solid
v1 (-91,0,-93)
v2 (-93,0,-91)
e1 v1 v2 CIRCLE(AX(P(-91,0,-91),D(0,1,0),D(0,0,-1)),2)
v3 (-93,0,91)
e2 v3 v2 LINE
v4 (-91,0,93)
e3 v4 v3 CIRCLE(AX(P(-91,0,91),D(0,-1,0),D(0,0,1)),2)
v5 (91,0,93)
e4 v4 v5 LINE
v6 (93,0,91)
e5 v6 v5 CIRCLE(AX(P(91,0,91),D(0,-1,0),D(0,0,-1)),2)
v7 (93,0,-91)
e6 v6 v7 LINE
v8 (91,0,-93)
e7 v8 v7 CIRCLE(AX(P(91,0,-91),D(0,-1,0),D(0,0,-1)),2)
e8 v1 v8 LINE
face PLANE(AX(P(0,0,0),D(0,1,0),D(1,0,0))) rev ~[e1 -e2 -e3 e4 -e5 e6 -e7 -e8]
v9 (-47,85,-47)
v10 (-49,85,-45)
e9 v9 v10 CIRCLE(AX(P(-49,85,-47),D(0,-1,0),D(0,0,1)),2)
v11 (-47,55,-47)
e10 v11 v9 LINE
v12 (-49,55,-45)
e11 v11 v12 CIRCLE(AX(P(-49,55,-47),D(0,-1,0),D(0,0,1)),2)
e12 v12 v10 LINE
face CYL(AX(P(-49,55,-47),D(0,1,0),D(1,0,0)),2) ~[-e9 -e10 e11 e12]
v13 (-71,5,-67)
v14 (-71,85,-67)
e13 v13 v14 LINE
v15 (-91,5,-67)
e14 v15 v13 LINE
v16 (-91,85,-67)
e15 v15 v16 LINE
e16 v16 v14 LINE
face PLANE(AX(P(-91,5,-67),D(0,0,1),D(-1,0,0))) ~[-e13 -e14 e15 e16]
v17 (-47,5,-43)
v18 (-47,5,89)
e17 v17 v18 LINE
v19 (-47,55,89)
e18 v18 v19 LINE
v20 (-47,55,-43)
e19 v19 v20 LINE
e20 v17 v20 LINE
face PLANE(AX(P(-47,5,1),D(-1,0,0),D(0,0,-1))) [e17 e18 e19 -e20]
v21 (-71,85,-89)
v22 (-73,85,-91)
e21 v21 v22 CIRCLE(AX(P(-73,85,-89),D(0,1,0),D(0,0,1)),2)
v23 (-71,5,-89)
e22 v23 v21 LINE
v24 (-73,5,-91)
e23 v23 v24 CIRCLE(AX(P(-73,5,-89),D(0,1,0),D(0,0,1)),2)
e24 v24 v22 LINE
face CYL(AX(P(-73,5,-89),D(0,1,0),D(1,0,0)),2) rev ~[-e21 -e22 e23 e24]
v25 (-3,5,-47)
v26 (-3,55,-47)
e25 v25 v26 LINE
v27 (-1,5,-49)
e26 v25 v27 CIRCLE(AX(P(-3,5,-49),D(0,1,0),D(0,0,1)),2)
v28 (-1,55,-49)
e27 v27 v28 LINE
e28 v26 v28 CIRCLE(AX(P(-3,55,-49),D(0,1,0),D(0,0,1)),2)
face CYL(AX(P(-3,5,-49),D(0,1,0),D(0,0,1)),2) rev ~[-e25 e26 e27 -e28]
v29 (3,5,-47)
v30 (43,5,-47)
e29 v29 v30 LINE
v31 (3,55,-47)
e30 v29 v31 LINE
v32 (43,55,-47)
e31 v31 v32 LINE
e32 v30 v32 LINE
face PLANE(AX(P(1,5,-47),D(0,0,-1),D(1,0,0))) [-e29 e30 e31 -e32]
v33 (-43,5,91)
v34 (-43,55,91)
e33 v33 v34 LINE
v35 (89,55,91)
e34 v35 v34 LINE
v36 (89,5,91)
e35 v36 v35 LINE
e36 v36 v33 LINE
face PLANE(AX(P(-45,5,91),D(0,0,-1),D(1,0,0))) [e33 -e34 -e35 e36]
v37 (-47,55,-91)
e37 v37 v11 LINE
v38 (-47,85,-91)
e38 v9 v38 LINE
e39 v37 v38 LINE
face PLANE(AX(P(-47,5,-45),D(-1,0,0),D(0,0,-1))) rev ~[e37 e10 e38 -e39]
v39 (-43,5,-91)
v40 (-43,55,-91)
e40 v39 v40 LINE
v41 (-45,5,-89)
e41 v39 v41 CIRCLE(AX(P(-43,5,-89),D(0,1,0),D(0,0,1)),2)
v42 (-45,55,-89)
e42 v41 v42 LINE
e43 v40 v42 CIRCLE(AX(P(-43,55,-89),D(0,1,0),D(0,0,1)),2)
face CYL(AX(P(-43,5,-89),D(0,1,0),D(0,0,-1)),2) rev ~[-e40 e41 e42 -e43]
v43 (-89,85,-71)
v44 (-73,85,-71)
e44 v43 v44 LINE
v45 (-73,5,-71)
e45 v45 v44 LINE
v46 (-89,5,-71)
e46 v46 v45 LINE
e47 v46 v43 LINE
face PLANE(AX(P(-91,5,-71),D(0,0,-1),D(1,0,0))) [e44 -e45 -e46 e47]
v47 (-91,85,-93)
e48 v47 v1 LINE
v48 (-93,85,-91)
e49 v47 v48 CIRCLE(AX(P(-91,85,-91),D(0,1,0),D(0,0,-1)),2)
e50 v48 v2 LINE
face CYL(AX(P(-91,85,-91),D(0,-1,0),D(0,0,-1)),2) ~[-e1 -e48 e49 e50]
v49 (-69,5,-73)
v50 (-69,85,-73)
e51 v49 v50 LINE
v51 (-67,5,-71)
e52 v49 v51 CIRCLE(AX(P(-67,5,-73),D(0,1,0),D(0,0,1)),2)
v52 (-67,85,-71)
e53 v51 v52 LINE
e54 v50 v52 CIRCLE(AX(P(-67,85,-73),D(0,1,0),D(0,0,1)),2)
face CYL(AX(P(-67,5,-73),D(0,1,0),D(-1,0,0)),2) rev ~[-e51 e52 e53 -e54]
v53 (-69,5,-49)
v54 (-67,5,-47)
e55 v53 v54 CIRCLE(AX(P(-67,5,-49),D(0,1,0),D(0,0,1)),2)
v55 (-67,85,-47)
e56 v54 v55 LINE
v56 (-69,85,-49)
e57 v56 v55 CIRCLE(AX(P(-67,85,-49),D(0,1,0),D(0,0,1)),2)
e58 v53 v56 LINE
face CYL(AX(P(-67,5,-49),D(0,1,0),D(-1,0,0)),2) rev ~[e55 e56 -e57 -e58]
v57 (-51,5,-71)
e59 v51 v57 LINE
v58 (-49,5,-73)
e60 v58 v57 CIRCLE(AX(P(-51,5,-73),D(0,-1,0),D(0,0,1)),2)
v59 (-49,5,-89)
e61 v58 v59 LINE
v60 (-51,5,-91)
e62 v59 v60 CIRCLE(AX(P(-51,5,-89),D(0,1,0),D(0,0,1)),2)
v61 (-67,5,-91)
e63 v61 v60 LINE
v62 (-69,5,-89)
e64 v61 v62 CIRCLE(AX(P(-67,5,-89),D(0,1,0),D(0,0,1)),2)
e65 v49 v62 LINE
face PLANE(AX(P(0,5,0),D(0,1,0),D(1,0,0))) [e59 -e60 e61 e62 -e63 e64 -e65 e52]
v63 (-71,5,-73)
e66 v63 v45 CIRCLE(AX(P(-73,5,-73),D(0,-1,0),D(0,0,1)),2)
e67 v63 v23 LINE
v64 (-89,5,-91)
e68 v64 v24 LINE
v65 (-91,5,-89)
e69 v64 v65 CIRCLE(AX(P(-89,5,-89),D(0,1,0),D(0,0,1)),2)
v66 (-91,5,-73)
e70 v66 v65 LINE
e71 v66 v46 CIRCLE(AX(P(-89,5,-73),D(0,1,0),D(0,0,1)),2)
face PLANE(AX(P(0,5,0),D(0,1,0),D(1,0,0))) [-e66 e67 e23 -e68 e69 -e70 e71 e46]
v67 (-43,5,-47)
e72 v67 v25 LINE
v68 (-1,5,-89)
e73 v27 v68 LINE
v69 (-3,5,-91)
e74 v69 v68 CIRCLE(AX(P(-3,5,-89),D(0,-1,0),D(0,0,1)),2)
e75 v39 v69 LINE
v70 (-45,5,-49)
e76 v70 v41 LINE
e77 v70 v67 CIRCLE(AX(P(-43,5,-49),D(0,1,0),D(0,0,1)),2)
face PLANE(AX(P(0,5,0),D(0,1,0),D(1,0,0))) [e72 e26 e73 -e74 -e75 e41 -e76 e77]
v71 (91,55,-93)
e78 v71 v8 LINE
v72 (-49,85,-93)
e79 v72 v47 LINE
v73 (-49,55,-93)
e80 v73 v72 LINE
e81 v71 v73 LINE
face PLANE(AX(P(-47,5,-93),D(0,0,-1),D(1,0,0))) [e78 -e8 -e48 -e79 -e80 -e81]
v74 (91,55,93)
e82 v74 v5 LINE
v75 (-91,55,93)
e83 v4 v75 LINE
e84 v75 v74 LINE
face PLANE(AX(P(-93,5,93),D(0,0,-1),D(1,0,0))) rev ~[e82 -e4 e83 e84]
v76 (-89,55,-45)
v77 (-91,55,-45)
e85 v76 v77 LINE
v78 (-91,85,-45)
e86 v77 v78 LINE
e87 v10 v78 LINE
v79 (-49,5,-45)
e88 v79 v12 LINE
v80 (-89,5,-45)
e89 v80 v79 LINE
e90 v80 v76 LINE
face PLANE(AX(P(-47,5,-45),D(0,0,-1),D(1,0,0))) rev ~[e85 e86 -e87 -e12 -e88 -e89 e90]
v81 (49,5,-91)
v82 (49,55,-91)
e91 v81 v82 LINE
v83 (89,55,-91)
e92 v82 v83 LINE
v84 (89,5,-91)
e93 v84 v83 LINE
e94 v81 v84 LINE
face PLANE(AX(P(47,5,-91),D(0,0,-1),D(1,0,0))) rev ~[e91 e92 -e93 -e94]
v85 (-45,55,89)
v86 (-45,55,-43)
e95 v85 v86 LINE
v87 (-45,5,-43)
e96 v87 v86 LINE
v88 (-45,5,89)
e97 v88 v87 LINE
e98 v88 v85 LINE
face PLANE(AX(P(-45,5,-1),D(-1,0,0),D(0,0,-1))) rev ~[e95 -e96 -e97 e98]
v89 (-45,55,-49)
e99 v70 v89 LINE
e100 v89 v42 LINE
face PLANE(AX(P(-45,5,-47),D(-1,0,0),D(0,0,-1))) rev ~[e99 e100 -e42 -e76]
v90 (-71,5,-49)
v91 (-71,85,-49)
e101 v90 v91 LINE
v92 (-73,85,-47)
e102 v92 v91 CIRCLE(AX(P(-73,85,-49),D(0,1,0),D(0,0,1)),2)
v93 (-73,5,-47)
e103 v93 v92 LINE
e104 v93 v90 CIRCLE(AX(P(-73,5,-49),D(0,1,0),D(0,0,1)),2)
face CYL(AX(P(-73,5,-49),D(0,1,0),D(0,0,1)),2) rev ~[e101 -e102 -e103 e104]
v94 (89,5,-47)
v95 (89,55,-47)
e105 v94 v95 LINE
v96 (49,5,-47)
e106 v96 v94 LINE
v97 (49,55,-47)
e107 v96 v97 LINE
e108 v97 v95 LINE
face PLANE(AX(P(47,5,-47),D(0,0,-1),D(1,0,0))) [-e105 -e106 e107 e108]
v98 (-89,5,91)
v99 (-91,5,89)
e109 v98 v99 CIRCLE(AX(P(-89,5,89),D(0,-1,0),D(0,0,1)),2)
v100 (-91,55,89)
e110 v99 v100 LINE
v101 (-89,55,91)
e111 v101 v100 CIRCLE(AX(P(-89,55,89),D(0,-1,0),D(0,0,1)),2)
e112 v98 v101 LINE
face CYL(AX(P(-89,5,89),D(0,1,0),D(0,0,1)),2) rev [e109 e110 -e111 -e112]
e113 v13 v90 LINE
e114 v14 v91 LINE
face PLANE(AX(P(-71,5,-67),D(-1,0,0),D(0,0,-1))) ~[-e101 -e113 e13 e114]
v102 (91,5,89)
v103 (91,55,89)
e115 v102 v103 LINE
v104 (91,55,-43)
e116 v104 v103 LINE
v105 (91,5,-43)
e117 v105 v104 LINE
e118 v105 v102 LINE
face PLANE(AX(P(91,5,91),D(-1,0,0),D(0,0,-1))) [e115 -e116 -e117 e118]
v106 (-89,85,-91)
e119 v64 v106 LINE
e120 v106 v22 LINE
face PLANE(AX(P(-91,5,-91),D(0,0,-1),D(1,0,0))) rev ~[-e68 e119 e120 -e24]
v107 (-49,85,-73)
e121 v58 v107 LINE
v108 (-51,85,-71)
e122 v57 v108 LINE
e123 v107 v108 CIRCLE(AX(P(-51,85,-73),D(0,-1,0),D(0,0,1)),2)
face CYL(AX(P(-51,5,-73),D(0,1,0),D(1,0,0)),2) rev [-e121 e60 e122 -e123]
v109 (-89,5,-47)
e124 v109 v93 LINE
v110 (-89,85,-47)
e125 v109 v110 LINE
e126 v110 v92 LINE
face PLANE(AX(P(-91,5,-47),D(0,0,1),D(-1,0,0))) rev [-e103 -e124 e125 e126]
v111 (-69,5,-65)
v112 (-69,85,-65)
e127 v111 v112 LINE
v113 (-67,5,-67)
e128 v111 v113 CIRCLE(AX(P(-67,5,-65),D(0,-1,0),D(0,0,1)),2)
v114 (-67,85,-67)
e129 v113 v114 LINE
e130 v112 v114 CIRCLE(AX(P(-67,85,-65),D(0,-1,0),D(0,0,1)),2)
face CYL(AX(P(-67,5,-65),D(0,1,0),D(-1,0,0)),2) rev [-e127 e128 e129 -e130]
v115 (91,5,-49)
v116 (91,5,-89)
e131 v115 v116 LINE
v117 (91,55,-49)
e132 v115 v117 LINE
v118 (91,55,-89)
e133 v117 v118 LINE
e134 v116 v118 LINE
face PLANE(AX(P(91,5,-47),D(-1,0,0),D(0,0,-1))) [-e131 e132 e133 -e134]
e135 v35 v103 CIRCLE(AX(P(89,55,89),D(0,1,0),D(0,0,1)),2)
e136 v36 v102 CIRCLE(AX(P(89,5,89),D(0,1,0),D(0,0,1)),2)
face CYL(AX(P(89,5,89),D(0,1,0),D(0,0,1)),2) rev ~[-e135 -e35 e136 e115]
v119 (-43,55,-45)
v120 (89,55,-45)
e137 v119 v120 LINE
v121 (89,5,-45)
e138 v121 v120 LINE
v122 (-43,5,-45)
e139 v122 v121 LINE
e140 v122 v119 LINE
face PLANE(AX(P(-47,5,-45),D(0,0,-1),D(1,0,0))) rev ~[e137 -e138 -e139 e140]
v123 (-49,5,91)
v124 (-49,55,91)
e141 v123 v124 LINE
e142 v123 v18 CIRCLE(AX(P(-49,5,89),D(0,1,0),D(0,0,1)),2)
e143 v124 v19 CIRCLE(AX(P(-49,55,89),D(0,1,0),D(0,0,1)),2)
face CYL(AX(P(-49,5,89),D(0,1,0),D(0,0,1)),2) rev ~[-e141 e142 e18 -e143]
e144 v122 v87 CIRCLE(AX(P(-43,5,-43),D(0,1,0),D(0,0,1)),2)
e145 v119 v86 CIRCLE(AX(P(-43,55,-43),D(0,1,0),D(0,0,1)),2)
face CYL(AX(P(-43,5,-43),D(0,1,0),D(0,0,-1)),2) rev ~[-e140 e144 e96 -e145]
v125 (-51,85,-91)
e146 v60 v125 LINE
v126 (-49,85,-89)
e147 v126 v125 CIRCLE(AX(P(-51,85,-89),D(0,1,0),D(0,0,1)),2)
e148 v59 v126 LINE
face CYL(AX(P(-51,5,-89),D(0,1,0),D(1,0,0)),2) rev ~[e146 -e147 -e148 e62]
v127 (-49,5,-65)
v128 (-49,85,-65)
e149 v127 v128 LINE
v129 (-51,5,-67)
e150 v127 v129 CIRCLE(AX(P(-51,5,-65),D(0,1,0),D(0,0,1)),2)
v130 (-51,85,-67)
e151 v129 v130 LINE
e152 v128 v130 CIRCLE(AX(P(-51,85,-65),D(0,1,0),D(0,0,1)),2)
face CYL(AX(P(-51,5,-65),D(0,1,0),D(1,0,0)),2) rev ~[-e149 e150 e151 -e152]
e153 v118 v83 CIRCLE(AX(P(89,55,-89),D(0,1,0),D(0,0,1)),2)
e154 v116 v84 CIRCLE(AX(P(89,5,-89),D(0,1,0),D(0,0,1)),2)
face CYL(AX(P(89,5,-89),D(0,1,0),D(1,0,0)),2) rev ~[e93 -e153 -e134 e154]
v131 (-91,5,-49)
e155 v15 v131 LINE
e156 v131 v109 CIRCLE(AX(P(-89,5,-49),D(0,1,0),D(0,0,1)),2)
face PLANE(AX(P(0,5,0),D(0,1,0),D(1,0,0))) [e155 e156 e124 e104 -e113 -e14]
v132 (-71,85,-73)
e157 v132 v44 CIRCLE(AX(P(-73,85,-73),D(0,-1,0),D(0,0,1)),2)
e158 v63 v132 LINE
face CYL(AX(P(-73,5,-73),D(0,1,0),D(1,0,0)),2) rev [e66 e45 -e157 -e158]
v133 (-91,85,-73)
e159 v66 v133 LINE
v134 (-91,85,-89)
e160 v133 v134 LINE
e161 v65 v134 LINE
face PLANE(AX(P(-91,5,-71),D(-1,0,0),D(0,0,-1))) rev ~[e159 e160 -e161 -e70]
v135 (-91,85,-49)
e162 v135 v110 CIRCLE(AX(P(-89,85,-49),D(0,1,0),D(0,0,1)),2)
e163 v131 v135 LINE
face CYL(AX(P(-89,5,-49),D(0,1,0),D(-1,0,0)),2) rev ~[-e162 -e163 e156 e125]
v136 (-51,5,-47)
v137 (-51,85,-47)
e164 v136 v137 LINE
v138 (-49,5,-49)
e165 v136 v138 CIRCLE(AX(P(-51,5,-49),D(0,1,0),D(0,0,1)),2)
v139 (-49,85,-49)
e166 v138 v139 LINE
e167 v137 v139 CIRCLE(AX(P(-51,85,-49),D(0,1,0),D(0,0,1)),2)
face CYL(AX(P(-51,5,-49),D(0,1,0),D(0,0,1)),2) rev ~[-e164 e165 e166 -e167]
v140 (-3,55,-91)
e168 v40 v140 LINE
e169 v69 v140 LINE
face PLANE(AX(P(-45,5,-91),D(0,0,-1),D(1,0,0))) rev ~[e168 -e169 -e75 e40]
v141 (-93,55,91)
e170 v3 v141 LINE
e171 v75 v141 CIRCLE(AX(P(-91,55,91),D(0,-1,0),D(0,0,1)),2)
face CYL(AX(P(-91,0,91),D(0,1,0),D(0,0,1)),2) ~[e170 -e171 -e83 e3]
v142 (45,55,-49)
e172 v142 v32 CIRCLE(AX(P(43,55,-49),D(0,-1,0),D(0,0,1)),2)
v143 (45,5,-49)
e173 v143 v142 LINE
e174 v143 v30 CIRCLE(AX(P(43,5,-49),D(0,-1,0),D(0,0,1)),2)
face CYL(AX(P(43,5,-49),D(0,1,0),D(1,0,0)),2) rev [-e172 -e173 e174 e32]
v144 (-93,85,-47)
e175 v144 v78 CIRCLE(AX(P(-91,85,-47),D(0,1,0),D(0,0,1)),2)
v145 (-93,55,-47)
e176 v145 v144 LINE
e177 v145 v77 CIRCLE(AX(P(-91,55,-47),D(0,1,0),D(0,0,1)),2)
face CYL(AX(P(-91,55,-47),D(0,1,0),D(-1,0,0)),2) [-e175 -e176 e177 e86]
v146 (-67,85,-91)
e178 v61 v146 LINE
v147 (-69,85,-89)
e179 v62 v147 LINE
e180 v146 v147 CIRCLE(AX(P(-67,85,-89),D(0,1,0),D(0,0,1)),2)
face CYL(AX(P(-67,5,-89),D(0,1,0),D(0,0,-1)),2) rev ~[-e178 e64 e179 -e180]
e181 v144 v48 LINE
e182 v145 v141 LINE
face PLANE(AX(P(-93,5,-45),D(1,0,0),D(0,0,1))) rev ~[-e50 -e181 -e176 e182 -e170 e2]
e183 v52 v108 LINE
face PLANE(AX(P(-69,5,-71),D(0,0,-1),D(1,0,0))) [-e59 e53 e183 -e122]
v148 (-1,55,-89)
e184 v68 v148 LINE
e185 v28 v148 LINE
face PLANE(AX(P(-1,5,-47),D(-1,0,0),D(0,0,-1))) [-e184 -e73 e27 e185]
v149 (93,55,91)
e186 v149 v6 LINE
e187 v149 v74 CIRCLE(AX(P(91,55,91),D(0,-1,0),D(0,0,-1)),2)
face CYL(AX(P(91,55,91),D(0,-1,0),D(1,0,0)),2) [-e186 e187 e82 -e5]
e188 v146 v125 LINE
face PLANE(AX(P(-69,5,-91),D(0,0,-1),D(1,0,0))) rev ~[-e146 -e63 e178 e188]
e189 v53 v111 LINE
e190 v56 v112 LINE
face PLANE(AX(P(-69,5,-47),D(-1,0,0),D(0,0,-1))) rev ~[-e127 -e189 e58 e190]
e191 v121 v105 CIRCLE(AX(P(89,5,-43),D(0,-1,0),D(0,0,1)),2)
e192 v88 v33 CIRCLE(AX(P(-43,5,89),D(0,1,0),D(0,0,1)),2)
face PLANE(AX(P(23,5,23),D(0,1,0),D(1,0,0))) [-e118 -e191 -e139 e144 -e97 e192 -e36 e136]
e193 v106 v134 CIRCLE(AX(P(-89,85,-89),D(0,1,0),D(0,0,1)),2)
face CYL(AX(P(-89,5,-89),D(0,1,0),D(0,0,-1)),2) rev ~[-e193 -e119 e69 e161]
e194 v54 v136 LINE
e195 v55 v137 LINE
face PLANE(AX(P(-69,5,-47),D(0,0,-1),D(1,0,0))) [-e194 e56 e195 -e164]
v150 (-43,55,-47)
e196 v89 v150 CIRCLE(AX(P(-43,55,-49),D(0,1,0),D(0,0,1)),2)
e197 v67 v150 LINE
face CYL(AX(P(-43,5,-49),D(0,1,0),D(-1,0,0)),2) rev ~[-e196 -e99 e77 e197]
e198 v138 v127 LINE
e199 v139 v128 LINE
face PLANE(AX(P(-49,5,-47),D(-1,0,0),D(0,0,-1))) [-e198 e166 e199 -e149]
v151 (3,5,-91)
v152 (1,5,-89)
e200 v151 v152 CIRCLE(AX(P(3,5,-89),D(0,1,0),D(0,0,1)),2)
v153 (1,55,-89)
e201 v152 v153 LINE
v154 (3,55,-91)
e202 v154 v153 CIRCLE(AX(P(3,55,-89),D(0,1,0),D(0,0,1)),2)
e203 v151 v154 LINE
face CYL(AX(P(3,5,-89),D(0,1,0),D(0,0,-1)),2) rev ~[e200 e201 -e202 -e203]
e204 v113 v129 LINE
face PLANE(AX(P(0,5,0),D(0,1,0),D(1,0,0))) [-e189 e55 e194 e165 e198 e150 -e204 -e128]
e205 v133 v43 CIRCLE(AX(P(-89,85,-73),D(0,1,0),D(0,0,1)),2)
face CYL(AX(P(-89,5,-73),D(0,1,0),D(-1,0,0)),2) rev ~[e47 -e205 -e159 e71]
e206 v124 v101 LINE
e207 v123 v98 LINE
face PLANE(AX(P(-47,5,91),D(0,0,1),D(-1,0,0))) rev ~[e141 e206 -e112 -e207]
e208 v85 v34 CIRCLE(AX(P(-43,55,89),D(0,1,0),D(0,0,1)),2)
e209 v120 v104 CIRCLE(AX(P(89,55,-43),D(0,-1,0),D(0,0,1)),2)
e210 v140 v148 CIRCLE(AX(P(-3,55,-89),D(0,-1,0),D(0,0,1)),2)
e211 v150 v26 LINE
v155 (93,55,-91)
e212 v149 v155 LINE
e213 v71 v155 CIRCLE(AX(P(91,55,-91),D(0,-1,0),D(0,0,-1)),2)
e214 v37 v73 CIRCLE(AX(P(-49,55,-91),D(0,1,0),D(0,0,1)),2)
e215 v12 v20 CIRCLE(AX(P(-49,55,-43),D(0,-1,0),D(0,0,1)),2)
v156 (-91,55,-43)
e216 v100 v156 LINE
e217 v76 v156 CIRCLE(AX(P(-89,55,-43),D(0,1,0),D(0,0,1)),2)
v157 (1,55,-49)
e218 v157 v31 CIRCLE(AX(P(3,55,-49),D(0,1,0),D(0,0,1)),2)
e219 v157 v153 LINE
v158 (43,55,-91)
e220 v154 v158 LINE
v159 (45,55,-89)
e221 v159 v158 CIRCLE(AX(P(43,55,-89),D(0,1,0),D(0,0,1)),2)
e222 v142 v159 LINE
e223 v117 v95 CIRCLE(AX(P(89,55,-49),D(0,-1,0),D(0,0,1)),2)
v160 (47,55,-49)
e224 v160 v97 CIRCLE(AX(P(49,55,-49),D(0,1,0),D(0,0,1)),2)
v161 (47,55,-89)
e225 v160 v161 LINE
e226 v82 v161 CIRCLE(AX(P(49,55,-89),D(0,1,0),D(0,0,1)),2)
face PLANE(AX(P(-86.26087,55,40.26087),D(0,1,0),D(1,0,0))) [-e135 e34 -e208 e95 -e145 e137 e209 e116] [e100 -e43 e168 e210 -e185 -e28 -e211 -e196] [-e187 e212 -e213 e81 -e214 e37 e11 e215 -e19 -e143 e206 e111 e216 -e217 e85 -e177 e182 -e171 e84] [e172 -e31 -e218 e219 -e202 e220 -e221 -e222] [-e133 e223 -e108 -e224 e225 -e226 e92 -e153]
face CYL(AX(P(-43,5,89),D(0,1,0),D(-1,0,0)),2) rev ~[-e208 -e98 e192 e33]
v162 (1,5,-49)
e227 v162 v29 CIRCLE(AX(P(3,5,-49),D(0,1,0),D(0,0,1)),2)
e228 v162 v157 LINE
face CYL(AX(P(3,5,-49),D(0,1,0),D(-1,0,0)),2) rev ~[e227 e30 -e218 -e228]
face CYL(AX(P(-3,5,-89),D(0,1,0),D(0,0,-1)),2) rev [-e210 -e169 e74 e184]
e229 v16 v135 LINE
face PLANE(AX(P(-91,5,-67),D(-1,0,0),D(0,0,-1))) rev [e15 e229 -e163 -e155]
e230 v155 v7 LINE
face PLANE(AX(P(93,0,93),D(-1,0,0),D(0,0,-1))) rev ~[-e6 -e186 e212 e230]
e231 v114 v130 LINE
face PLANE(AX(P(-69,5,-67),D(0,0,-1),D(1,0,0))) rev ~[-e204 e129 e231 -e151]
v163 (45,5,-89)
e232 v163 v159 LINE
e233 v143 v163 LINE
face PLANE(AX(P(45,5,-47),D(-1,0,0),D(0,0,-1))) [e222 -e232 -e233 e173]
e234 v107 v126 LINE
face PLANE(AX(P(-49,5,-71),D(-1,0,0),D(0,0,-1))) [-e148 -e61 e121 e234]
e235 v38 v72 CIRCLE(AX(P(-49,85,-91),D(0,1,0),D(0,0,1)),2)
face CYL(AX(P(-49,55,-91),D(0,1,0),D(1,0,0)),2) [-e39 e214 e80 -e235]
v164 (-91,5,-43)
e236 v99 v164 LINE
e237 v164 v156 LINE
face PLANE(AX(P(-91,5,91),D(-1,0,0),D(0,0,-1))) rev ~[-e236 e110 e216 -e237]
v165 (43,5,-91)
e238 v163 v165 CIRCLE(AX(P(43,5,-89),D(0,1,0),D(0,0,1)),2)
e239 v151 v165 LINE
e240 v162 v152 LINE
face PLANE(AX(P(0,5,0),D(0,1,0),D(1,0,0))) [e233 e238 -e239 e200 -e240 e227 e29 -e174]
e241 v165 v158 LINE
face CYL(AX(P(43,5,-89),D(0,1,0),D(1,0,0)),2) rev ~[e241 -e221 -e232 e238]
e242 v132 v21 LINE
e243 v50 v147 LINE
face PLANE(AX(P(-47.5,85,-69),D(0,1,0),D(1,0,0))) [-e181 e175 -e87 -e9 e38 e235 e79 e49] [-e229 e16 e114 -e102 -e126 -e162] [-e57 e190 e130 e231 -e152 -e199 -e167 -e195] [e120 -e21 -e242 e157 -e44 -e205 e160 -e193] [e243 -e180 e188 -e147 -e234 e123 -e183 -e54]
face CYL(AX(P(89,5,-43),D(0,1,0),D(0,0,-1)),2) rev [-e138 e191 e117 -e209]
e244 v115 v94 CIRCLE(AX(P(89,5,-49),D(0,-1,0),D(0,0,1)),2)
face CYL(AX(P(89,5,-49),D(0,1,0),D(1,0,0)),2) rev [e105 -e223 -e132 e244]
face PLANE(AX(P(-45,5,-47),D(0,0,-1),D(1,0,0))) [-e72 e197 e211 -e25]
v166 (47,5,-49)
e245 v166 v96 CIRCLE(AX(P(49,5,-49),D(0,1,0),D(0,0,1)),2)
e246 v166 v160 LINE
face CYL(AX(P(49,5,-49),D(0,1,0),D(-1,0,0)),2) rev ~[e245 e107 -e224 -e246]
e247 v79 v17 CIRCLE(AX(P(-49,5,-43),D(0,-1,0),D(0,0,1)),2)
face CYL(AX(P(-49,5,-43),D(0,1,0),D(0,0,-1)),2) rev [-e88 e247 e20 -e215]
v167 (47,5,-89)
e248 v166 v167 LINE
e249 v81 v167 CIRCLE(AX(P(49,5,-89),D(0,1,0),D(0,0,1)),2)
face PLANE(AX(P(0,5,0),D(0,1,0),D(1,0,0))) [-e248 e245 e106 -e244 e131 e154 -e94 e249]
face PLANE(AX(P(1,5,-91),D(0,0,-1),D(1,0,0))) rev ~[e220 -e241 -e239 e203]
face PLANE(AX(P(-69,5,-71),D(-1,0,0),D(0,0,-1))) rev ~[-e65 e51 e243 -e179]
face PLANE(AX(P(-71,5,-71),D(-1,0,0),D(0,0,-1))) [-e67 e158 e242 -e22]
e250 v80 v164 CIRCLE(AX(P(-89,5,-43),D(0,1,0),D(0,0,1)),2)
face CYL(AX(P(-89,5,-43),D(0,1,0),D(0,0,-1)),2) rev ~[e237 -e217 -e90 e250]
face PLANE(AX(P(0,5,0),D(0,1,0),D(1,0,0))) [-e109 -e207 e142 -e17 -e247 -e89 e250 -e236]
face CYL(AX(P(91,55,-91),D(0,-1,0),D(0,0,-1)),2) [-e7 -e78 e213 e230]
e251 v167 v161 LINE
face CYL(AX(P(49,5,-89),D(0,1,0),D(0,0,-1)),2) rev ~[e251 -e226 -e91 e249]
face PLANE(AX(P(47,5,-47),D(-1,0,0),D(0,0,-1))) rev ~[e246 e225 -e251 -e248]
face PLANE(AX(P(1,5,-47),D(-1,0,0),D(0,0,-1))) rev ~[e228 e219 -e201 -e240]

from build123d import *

# Parameters (mm, degrees)
SKETCH1_W                   = 186
SKETCH1_H                   = 186
BOSS_EXTRUDE1_DEPTH         = 5
SKETCH2_W                   = 23
SKETCH2_H                   = 24
SKETCH2_W_2                 = 20
SKETCH2_H_2                 = 20
BOSS_EXTRUDE2_DEPTH         = 80
LPATTERN1_COUNT             = 2
LPATTERN1_PITCH             = 22
MIRROR1_COPY_1_SKETCH_W     = 23
MIRROR1_COPY_1_SKETCH_H     = 24
MIRROR1_COPY_1_SKETCH_W_2   = 20
MIRROR1_COPY_1_SKETCH_H_2   = 20
MIRROR1_COPY_1_DEPTH        = 80
SKETCH3_W                   = 1
SKETCH3_H                   = 48
BOSS_EXTRUDE3_DEPTH         = 80
SKETCH4_W                   = 48
SKETCH4_H                   = 48
SKETCH4_W_2                 = 44
SKETCH4_H_2                 = 44
BOSS_EXTRUDE4_DEPTH         = 50
LPATTERN2_COUNT             = 3
LPATTERN2_PITCH             = 46
LPATTERN3_COUNT             = 4
LPATTERN3_PITCH             = 46
LPATTERN3_COPY_1_SKETCH_W   = 48
LPATTERN3_COPY_1_SKETCH_H   = 48
LPATTERN3_COPY_1_SKETCH_W_2 = 44
LPATTERN3_COPY_1_SKETCH_H_2 = 44
LPATTERN3_COPY_1_DEPTH      = 50
LPATTERN3_COPY_2_SKETCH_W   = 48
LPATTERN3_COPY_2_SKETCH_H   = 48
LPATTERN3_COPY_2_SKETCH_W_2 = 44
LPATTERN3_COPY_2_SKETCH_H_2 = 44
LPATTERN3_COPY_2_DEPTH      = 50
LPATTERN3_COPY_3_SKETCH_W   = 48
LPATTERN3_COPY_3_SKETCH_H   = 48
LPATTERN3_COPY_3_SKETCH_W_2 = 44
LPATTERN3_COPY_3_SKETCH_H_2 = 44
LPATTERN3_COPY_3_DEPTH      = 50
LPATTERN3_COPY_4_SKETCH_W   = 48
LPATTERN3_COPY_4_SKETCH_H   = 48
LPATTERN3_COPY_4_SKETCH_W_2 = 44
LPATTERN3_COPY_4_SKETCH_H_2 = 44
LPATTERN3_COPY_4_DEPTH      = 50
LPATTERN3_COPY_5_SKETCH_W   = 48
LPATTERN3_COPY_5_SKETCH_H   = 48
LPATTERN3_COPY_5_SKETCH_W_2 = 44
LPATTERN3_COPY_5_SKETCH_H_2 = 44
LPATTERN3_COPY_5_DEPTH      = 50
LPATTERN3_COPY_6_SKETCH_W   = 48
LPATTERN3_COPY_6_SKETCH_H   = 48
LPATTERN3_COPY_6_SKETCH_W_2 = 44
LPATTERN3_COPY_6_SKETCH_H_2 = 44
LPATTERN3_COPY_6_DEPTH      = 50
BOSS_EXTRUDE6_DEPTH         = 50
SKETCH9_W                   = 136
SKETCH9_H                   = 136
CUT_EXTRUDE2_DEPTH          = 50
FILLET1_R                   = 2
FILLET2_R                   = 2


with BuildPart() as part:
    # Sketch1 → Boss-Extrude1 (new body)
    with BuildSketch(Plane(origin=(0, 0, 0), x_dir=(1, 0, 0), z_dir=(0, 1, 0))):
        Rectangle(SKETCH1_W, SKETCH1_H)
    extrude(amount=BOSS_EXTRUDE1_DEPTH)

    # Sketch2 → Boss-Extrude2 (add)
    with BuildSketch(Plane(origin=(0, 5, 0), x_dir=(1, 0, 0), z_dir=(0, 1, 0))):
        with Locations((-81.5, 81)):
            Rectangle(SKETCH2_W, SKETCH2_H)
        with Locations((-81, 81)):
            Rectangle(SKETCH2_W_2, SKETCH2_H_2, mode=Mode.SUBTRACT)
    boss_extrude2 = extrude(amount=BOSS_EXTRUDE2_DEPTH)

    # LPattern1: Boss-Extrude2 ×2
    with Locations(*[(i * LPATTERN1_PITCH, 0, 0) for i in range(1, LPATTERN1_COUNT)]):
        add(boss_extrude2)

    # Mirror1: Boss-Extrude2 across plane
    add(boss_extrude2.mirror(Plane(origin=(-93, 85, -69), x_dir=(1, 0, 0), z_dir=(0, 0, -1))))

    # Mirror1 copy 1 sketch → Mirror1 copy 1 (add)
    with BuildSketch(Plane(origin=(22, 5, -138), x_dir=(1, 0, 0), z_dir=(0, 1, 0))):
        with Locations((-81.5, -81)):
            Rectangle(MIRROR1_COPY_1_SKETCH_W, MIRROR1_COPY_1_SKETCH_H)
        with Locations((-81, -81)):
            Rectangle(MIRROR1_COPY_1_SKETCH_W_2, MIRROR1_COPY_1_SKETCH_H_2, mode=Mode.SUBTRACT)
    extrude(amount=MIRROR1_COPY_1_DEPTH)

    # Sketch3 → Boss-Extrude3 (add)
    with BuildSketch(Plane(origin=(0, 5, 0), x_dir=(1, 0, 0), z_dir=(0, 1, 0))):
        with Locations((-47.5, 69)):
            Rectangle(SKETCH3_W, SKETCH3_H)
    extrude(amount=BOSS_EXTRUDE3_DEPTH)

    # Sketch4 → Boss-Extrude4 (add)
    with BuildSketch(Plane(origin=(0, 5, 0), x_dir=(1, 0, 0), z_dir=(0, 1, 0))):
        with Locations((-23, 69)):
            Rectangle(SKETCH4_W, SKETCH4_H)
        with Locations((-23, 69)):
            Rectangle(SKETCH4_W_2, SKETCH4_H_2, mode=Mode.SUBTRACT)
    boss_extrude4 = extrude(amount=BOSS_EXTRUDE4_DEPTH)

    # LPattern2: Boss-Extrude4 ×3
    with Locations(*[(i * LPATTERN2_PITCH, 0, 0) for i in range(1, LPATTERN2_COUNT)]):
        add(boss_extrude4)

    # LPattern3: Boss-Extrude4 ×4
    with Locations(*[(0, 0, i * LPATTERN3_PITCH) for i in range(1, LPATTERN3_COUNT)]):
        add(boss_extrude4)

    # LPattern3 copy 1 sketch → LPattern3 copy 1 (add)
    with BuildSketch(Plane(origin=(46, 5, 46), x_dir=(1, 0, 0), z_dir=(0, 1, 0))):
        with Locations((-23, 69)):
            Rectangle(LPATTERN3_COPY_1_SKETCH_W, LPATTERN3_COPY_1_SKETCH_H)
        with Locations((-23, 69)):
            Rectangle(LPATTERN3_COPY_1_SKETCH_W_2, LPATTERN3_COPY_1_SKETCH_H_2, mode=Mode.SUBTRACT)
    extrude(amount=LPATTERN3_COPY_1_DEPTH)

    # LPattern3 copy 2 sketch → LPattern3 copy 2 (add)
    with BuildSketch(Plane(origin=(46, 5, 92), x_dir=(1, 0, 0), z_dir=(0, 1, 0))):
        with Locations((-23, 69)):
            Rectangle(LPATTERN3_COPY_2_SKETCH_W, LPATTERN3_COPY_2_SKETCH_H)
        with Locations((-23, 69)):
            Rectangle(LPATTERN3_COPY_2_SKETCH_W_2, LPATTERN3_COPY_2_SKETCH_H_2, mode=Mode.SUBTRACT)
    extrude(amount=LPATTERN3_COPY_2_DEPTH)

    # LPattern3 copy 3 sketch → LPattern3 copy 3 (add)
    with BuildSketch(Plane(origin=(46, 5, 138), x_dir=(1, 0, 0), z_dir=(0, 1, 0))):
        with Locations((-23, 69)):
            Rectangle(LPATTERN3_COPY_3_SKETCH_W, LPATTERN3_COPY_3_SKETCH_H)
        with Locations((-23, 69)):
            Rectangle(LPATTERN3_COPY_3_SKETCH_W_2, LPATTERN3_COPY_3_SKETCH_H_2, mode=Mode.SUBTRACT)
    extrude(amount=LPATTERN3_COPY_3_DEPTH)

    # LPattern3 copy 4 sketch → LPattern3 copy 4 (add)
    with BuildSketch(Plane(origin=(92, 5, 46), x_dir=(1, 0, 0), z_dir=(0, 1, 0))):
        with Locations((-23, 69)):
            Rectangle(LPATTERN3_COPY_4_SKETCH_W, LPATTERN3_COPY_4_SKETCH_H)
        with Locations((-23, 69)):
            Rectangle(LPATTERN3_COPY_4_SKETCH_W_2, LPATTERN3_COPY_4_SKETCH_H_2, mode=Mode.SUBTRACT)
    extrude(amount=LPATTERN3_COPY_4_DEPTH)

    # LPattern3 copy 5 sketch → LPattern3 copy 5 (add)
    with BuildSketch(Plane(origin=(92, 5, 92), x_dir=(1, 0, 0), z_dir=(0, 1, 0))):
        with Locations((-23, 69)):
            Rectangle(LPATTERN3_COPY_5_SKETCH_W, LPATTERN3_COPY_5_SKETCH_H)
        with Locations((-23, 69)):
            Rectangle(LPATTERN3_COPY_5_SKETCH_W_2, LPATTERN3_COPY_5_SKETCH_H_2, mode=Mode.SUBTRACT)
    extrude(amount=LPATTERN3_COPY_5_DEPTH)

    # LPattern3 copy 6 sketch → LPattern3 copy 6 (add)
    with BuildSketch(Plane(origin=(92, 5, 138), x_dir=(1, 0, 0), z_dir=(0, 1, 0))):
        with Locations((-23, 69)):
            Rectangle(LPATTERN3_COPY_6_SKETCH_W, LPATTERN3_COPY_6_SKETCH_H)
        with Locations((-23, 69)):
            Rectangle(LPATTERN3_COPY_6_SKETCH_W_2, LPATTERN3_COPY_6_SKETCH_H_2, mode=Mode.SUBTRACT)
    extrude(amount=LPATTERN3_COPY_6_DEPTH)

    # Sketch6 → Boss-Extrude6 (add)
    with BuildSketch(Plane(origin=(0, 5, 0), x_dir=(1, 0, 0), z_dir=(0, 1, 0))):
        Polygon((-47, -93), (-47, -91), (-91, -91), (-91, 45), (-93, 45), (-93, -93), align=None)
    extrude(amount=BOSS_EXTRUDE6_DEPTH)

    # Sketch9 → Cut-Extrude2 (cut)
    with BuildSketch(Plane(origin=(0, 5, 0), x_dir=(1, 0, 0), z_dir=(0, 1, 0))):
        with Locations((23, -23)):
            Rectangle(SKETCH9_W, SKETCH9_H)
    extrude(amount=CUT_EXTRUDE2_DEPTH, mode=Mode.SUBTRACT)

    # Fillet1
    fillet1_edges = [part.edges().sort_by_distance(p)[0] for p in [
        (-69, 45, -47),
        (-49, 45, -47),
        (-49, 45, -67),
        (-69, 45, -67),
        (-47, 70, -93),
        (-45, 30, -91),
        (-45, 30, -47),
        (-1, 30, -47),
        (-1, 30, -91),
        (47, 30, -47),
        (1, 30, -91),
        (1, 30, -47),
        (45, 30, -47),
        (45, 30, -91),
        (47, 30, -91),
        (91, 30, -47),
        (91, 30, -91),
        (-91, 45, -71),
        (-71, 45, -71),
        (-71, 45, -91),
        (-91, 45, -91),
        (-47, 30, -45),
        (-45, 30, -45),
        (-45, 30, 91),
        (91, 30, -45),
        (91, 30, 91),
        (-47, 30, 91),
        (-91, 30, 91),
        (-91, 30, -45),
        (-69, 45, -71),
        (-49, 45, -71),
        (-49, 45, -91),
        (-69, 45, -91),
        (-93, 42.5, -93),
        (93, 27.5, -93),
        (93, 27.5, 93),
        (-93, 27.5, 93),
        (-91, 45, -47),
        (-71, 45, -47),
    ]]
    fillet(fillet1_edges, radius=FILLET1_R)

    # Fillet2
    fillet2_edges = [part.edges().sort_by_distance(p)[0] for p in [
        (-47, 70, -45),
        (-93, 70, -45),
    ]]
    fillet(fillet2_edges, radius=FILLET2_R)


solid = part.part
